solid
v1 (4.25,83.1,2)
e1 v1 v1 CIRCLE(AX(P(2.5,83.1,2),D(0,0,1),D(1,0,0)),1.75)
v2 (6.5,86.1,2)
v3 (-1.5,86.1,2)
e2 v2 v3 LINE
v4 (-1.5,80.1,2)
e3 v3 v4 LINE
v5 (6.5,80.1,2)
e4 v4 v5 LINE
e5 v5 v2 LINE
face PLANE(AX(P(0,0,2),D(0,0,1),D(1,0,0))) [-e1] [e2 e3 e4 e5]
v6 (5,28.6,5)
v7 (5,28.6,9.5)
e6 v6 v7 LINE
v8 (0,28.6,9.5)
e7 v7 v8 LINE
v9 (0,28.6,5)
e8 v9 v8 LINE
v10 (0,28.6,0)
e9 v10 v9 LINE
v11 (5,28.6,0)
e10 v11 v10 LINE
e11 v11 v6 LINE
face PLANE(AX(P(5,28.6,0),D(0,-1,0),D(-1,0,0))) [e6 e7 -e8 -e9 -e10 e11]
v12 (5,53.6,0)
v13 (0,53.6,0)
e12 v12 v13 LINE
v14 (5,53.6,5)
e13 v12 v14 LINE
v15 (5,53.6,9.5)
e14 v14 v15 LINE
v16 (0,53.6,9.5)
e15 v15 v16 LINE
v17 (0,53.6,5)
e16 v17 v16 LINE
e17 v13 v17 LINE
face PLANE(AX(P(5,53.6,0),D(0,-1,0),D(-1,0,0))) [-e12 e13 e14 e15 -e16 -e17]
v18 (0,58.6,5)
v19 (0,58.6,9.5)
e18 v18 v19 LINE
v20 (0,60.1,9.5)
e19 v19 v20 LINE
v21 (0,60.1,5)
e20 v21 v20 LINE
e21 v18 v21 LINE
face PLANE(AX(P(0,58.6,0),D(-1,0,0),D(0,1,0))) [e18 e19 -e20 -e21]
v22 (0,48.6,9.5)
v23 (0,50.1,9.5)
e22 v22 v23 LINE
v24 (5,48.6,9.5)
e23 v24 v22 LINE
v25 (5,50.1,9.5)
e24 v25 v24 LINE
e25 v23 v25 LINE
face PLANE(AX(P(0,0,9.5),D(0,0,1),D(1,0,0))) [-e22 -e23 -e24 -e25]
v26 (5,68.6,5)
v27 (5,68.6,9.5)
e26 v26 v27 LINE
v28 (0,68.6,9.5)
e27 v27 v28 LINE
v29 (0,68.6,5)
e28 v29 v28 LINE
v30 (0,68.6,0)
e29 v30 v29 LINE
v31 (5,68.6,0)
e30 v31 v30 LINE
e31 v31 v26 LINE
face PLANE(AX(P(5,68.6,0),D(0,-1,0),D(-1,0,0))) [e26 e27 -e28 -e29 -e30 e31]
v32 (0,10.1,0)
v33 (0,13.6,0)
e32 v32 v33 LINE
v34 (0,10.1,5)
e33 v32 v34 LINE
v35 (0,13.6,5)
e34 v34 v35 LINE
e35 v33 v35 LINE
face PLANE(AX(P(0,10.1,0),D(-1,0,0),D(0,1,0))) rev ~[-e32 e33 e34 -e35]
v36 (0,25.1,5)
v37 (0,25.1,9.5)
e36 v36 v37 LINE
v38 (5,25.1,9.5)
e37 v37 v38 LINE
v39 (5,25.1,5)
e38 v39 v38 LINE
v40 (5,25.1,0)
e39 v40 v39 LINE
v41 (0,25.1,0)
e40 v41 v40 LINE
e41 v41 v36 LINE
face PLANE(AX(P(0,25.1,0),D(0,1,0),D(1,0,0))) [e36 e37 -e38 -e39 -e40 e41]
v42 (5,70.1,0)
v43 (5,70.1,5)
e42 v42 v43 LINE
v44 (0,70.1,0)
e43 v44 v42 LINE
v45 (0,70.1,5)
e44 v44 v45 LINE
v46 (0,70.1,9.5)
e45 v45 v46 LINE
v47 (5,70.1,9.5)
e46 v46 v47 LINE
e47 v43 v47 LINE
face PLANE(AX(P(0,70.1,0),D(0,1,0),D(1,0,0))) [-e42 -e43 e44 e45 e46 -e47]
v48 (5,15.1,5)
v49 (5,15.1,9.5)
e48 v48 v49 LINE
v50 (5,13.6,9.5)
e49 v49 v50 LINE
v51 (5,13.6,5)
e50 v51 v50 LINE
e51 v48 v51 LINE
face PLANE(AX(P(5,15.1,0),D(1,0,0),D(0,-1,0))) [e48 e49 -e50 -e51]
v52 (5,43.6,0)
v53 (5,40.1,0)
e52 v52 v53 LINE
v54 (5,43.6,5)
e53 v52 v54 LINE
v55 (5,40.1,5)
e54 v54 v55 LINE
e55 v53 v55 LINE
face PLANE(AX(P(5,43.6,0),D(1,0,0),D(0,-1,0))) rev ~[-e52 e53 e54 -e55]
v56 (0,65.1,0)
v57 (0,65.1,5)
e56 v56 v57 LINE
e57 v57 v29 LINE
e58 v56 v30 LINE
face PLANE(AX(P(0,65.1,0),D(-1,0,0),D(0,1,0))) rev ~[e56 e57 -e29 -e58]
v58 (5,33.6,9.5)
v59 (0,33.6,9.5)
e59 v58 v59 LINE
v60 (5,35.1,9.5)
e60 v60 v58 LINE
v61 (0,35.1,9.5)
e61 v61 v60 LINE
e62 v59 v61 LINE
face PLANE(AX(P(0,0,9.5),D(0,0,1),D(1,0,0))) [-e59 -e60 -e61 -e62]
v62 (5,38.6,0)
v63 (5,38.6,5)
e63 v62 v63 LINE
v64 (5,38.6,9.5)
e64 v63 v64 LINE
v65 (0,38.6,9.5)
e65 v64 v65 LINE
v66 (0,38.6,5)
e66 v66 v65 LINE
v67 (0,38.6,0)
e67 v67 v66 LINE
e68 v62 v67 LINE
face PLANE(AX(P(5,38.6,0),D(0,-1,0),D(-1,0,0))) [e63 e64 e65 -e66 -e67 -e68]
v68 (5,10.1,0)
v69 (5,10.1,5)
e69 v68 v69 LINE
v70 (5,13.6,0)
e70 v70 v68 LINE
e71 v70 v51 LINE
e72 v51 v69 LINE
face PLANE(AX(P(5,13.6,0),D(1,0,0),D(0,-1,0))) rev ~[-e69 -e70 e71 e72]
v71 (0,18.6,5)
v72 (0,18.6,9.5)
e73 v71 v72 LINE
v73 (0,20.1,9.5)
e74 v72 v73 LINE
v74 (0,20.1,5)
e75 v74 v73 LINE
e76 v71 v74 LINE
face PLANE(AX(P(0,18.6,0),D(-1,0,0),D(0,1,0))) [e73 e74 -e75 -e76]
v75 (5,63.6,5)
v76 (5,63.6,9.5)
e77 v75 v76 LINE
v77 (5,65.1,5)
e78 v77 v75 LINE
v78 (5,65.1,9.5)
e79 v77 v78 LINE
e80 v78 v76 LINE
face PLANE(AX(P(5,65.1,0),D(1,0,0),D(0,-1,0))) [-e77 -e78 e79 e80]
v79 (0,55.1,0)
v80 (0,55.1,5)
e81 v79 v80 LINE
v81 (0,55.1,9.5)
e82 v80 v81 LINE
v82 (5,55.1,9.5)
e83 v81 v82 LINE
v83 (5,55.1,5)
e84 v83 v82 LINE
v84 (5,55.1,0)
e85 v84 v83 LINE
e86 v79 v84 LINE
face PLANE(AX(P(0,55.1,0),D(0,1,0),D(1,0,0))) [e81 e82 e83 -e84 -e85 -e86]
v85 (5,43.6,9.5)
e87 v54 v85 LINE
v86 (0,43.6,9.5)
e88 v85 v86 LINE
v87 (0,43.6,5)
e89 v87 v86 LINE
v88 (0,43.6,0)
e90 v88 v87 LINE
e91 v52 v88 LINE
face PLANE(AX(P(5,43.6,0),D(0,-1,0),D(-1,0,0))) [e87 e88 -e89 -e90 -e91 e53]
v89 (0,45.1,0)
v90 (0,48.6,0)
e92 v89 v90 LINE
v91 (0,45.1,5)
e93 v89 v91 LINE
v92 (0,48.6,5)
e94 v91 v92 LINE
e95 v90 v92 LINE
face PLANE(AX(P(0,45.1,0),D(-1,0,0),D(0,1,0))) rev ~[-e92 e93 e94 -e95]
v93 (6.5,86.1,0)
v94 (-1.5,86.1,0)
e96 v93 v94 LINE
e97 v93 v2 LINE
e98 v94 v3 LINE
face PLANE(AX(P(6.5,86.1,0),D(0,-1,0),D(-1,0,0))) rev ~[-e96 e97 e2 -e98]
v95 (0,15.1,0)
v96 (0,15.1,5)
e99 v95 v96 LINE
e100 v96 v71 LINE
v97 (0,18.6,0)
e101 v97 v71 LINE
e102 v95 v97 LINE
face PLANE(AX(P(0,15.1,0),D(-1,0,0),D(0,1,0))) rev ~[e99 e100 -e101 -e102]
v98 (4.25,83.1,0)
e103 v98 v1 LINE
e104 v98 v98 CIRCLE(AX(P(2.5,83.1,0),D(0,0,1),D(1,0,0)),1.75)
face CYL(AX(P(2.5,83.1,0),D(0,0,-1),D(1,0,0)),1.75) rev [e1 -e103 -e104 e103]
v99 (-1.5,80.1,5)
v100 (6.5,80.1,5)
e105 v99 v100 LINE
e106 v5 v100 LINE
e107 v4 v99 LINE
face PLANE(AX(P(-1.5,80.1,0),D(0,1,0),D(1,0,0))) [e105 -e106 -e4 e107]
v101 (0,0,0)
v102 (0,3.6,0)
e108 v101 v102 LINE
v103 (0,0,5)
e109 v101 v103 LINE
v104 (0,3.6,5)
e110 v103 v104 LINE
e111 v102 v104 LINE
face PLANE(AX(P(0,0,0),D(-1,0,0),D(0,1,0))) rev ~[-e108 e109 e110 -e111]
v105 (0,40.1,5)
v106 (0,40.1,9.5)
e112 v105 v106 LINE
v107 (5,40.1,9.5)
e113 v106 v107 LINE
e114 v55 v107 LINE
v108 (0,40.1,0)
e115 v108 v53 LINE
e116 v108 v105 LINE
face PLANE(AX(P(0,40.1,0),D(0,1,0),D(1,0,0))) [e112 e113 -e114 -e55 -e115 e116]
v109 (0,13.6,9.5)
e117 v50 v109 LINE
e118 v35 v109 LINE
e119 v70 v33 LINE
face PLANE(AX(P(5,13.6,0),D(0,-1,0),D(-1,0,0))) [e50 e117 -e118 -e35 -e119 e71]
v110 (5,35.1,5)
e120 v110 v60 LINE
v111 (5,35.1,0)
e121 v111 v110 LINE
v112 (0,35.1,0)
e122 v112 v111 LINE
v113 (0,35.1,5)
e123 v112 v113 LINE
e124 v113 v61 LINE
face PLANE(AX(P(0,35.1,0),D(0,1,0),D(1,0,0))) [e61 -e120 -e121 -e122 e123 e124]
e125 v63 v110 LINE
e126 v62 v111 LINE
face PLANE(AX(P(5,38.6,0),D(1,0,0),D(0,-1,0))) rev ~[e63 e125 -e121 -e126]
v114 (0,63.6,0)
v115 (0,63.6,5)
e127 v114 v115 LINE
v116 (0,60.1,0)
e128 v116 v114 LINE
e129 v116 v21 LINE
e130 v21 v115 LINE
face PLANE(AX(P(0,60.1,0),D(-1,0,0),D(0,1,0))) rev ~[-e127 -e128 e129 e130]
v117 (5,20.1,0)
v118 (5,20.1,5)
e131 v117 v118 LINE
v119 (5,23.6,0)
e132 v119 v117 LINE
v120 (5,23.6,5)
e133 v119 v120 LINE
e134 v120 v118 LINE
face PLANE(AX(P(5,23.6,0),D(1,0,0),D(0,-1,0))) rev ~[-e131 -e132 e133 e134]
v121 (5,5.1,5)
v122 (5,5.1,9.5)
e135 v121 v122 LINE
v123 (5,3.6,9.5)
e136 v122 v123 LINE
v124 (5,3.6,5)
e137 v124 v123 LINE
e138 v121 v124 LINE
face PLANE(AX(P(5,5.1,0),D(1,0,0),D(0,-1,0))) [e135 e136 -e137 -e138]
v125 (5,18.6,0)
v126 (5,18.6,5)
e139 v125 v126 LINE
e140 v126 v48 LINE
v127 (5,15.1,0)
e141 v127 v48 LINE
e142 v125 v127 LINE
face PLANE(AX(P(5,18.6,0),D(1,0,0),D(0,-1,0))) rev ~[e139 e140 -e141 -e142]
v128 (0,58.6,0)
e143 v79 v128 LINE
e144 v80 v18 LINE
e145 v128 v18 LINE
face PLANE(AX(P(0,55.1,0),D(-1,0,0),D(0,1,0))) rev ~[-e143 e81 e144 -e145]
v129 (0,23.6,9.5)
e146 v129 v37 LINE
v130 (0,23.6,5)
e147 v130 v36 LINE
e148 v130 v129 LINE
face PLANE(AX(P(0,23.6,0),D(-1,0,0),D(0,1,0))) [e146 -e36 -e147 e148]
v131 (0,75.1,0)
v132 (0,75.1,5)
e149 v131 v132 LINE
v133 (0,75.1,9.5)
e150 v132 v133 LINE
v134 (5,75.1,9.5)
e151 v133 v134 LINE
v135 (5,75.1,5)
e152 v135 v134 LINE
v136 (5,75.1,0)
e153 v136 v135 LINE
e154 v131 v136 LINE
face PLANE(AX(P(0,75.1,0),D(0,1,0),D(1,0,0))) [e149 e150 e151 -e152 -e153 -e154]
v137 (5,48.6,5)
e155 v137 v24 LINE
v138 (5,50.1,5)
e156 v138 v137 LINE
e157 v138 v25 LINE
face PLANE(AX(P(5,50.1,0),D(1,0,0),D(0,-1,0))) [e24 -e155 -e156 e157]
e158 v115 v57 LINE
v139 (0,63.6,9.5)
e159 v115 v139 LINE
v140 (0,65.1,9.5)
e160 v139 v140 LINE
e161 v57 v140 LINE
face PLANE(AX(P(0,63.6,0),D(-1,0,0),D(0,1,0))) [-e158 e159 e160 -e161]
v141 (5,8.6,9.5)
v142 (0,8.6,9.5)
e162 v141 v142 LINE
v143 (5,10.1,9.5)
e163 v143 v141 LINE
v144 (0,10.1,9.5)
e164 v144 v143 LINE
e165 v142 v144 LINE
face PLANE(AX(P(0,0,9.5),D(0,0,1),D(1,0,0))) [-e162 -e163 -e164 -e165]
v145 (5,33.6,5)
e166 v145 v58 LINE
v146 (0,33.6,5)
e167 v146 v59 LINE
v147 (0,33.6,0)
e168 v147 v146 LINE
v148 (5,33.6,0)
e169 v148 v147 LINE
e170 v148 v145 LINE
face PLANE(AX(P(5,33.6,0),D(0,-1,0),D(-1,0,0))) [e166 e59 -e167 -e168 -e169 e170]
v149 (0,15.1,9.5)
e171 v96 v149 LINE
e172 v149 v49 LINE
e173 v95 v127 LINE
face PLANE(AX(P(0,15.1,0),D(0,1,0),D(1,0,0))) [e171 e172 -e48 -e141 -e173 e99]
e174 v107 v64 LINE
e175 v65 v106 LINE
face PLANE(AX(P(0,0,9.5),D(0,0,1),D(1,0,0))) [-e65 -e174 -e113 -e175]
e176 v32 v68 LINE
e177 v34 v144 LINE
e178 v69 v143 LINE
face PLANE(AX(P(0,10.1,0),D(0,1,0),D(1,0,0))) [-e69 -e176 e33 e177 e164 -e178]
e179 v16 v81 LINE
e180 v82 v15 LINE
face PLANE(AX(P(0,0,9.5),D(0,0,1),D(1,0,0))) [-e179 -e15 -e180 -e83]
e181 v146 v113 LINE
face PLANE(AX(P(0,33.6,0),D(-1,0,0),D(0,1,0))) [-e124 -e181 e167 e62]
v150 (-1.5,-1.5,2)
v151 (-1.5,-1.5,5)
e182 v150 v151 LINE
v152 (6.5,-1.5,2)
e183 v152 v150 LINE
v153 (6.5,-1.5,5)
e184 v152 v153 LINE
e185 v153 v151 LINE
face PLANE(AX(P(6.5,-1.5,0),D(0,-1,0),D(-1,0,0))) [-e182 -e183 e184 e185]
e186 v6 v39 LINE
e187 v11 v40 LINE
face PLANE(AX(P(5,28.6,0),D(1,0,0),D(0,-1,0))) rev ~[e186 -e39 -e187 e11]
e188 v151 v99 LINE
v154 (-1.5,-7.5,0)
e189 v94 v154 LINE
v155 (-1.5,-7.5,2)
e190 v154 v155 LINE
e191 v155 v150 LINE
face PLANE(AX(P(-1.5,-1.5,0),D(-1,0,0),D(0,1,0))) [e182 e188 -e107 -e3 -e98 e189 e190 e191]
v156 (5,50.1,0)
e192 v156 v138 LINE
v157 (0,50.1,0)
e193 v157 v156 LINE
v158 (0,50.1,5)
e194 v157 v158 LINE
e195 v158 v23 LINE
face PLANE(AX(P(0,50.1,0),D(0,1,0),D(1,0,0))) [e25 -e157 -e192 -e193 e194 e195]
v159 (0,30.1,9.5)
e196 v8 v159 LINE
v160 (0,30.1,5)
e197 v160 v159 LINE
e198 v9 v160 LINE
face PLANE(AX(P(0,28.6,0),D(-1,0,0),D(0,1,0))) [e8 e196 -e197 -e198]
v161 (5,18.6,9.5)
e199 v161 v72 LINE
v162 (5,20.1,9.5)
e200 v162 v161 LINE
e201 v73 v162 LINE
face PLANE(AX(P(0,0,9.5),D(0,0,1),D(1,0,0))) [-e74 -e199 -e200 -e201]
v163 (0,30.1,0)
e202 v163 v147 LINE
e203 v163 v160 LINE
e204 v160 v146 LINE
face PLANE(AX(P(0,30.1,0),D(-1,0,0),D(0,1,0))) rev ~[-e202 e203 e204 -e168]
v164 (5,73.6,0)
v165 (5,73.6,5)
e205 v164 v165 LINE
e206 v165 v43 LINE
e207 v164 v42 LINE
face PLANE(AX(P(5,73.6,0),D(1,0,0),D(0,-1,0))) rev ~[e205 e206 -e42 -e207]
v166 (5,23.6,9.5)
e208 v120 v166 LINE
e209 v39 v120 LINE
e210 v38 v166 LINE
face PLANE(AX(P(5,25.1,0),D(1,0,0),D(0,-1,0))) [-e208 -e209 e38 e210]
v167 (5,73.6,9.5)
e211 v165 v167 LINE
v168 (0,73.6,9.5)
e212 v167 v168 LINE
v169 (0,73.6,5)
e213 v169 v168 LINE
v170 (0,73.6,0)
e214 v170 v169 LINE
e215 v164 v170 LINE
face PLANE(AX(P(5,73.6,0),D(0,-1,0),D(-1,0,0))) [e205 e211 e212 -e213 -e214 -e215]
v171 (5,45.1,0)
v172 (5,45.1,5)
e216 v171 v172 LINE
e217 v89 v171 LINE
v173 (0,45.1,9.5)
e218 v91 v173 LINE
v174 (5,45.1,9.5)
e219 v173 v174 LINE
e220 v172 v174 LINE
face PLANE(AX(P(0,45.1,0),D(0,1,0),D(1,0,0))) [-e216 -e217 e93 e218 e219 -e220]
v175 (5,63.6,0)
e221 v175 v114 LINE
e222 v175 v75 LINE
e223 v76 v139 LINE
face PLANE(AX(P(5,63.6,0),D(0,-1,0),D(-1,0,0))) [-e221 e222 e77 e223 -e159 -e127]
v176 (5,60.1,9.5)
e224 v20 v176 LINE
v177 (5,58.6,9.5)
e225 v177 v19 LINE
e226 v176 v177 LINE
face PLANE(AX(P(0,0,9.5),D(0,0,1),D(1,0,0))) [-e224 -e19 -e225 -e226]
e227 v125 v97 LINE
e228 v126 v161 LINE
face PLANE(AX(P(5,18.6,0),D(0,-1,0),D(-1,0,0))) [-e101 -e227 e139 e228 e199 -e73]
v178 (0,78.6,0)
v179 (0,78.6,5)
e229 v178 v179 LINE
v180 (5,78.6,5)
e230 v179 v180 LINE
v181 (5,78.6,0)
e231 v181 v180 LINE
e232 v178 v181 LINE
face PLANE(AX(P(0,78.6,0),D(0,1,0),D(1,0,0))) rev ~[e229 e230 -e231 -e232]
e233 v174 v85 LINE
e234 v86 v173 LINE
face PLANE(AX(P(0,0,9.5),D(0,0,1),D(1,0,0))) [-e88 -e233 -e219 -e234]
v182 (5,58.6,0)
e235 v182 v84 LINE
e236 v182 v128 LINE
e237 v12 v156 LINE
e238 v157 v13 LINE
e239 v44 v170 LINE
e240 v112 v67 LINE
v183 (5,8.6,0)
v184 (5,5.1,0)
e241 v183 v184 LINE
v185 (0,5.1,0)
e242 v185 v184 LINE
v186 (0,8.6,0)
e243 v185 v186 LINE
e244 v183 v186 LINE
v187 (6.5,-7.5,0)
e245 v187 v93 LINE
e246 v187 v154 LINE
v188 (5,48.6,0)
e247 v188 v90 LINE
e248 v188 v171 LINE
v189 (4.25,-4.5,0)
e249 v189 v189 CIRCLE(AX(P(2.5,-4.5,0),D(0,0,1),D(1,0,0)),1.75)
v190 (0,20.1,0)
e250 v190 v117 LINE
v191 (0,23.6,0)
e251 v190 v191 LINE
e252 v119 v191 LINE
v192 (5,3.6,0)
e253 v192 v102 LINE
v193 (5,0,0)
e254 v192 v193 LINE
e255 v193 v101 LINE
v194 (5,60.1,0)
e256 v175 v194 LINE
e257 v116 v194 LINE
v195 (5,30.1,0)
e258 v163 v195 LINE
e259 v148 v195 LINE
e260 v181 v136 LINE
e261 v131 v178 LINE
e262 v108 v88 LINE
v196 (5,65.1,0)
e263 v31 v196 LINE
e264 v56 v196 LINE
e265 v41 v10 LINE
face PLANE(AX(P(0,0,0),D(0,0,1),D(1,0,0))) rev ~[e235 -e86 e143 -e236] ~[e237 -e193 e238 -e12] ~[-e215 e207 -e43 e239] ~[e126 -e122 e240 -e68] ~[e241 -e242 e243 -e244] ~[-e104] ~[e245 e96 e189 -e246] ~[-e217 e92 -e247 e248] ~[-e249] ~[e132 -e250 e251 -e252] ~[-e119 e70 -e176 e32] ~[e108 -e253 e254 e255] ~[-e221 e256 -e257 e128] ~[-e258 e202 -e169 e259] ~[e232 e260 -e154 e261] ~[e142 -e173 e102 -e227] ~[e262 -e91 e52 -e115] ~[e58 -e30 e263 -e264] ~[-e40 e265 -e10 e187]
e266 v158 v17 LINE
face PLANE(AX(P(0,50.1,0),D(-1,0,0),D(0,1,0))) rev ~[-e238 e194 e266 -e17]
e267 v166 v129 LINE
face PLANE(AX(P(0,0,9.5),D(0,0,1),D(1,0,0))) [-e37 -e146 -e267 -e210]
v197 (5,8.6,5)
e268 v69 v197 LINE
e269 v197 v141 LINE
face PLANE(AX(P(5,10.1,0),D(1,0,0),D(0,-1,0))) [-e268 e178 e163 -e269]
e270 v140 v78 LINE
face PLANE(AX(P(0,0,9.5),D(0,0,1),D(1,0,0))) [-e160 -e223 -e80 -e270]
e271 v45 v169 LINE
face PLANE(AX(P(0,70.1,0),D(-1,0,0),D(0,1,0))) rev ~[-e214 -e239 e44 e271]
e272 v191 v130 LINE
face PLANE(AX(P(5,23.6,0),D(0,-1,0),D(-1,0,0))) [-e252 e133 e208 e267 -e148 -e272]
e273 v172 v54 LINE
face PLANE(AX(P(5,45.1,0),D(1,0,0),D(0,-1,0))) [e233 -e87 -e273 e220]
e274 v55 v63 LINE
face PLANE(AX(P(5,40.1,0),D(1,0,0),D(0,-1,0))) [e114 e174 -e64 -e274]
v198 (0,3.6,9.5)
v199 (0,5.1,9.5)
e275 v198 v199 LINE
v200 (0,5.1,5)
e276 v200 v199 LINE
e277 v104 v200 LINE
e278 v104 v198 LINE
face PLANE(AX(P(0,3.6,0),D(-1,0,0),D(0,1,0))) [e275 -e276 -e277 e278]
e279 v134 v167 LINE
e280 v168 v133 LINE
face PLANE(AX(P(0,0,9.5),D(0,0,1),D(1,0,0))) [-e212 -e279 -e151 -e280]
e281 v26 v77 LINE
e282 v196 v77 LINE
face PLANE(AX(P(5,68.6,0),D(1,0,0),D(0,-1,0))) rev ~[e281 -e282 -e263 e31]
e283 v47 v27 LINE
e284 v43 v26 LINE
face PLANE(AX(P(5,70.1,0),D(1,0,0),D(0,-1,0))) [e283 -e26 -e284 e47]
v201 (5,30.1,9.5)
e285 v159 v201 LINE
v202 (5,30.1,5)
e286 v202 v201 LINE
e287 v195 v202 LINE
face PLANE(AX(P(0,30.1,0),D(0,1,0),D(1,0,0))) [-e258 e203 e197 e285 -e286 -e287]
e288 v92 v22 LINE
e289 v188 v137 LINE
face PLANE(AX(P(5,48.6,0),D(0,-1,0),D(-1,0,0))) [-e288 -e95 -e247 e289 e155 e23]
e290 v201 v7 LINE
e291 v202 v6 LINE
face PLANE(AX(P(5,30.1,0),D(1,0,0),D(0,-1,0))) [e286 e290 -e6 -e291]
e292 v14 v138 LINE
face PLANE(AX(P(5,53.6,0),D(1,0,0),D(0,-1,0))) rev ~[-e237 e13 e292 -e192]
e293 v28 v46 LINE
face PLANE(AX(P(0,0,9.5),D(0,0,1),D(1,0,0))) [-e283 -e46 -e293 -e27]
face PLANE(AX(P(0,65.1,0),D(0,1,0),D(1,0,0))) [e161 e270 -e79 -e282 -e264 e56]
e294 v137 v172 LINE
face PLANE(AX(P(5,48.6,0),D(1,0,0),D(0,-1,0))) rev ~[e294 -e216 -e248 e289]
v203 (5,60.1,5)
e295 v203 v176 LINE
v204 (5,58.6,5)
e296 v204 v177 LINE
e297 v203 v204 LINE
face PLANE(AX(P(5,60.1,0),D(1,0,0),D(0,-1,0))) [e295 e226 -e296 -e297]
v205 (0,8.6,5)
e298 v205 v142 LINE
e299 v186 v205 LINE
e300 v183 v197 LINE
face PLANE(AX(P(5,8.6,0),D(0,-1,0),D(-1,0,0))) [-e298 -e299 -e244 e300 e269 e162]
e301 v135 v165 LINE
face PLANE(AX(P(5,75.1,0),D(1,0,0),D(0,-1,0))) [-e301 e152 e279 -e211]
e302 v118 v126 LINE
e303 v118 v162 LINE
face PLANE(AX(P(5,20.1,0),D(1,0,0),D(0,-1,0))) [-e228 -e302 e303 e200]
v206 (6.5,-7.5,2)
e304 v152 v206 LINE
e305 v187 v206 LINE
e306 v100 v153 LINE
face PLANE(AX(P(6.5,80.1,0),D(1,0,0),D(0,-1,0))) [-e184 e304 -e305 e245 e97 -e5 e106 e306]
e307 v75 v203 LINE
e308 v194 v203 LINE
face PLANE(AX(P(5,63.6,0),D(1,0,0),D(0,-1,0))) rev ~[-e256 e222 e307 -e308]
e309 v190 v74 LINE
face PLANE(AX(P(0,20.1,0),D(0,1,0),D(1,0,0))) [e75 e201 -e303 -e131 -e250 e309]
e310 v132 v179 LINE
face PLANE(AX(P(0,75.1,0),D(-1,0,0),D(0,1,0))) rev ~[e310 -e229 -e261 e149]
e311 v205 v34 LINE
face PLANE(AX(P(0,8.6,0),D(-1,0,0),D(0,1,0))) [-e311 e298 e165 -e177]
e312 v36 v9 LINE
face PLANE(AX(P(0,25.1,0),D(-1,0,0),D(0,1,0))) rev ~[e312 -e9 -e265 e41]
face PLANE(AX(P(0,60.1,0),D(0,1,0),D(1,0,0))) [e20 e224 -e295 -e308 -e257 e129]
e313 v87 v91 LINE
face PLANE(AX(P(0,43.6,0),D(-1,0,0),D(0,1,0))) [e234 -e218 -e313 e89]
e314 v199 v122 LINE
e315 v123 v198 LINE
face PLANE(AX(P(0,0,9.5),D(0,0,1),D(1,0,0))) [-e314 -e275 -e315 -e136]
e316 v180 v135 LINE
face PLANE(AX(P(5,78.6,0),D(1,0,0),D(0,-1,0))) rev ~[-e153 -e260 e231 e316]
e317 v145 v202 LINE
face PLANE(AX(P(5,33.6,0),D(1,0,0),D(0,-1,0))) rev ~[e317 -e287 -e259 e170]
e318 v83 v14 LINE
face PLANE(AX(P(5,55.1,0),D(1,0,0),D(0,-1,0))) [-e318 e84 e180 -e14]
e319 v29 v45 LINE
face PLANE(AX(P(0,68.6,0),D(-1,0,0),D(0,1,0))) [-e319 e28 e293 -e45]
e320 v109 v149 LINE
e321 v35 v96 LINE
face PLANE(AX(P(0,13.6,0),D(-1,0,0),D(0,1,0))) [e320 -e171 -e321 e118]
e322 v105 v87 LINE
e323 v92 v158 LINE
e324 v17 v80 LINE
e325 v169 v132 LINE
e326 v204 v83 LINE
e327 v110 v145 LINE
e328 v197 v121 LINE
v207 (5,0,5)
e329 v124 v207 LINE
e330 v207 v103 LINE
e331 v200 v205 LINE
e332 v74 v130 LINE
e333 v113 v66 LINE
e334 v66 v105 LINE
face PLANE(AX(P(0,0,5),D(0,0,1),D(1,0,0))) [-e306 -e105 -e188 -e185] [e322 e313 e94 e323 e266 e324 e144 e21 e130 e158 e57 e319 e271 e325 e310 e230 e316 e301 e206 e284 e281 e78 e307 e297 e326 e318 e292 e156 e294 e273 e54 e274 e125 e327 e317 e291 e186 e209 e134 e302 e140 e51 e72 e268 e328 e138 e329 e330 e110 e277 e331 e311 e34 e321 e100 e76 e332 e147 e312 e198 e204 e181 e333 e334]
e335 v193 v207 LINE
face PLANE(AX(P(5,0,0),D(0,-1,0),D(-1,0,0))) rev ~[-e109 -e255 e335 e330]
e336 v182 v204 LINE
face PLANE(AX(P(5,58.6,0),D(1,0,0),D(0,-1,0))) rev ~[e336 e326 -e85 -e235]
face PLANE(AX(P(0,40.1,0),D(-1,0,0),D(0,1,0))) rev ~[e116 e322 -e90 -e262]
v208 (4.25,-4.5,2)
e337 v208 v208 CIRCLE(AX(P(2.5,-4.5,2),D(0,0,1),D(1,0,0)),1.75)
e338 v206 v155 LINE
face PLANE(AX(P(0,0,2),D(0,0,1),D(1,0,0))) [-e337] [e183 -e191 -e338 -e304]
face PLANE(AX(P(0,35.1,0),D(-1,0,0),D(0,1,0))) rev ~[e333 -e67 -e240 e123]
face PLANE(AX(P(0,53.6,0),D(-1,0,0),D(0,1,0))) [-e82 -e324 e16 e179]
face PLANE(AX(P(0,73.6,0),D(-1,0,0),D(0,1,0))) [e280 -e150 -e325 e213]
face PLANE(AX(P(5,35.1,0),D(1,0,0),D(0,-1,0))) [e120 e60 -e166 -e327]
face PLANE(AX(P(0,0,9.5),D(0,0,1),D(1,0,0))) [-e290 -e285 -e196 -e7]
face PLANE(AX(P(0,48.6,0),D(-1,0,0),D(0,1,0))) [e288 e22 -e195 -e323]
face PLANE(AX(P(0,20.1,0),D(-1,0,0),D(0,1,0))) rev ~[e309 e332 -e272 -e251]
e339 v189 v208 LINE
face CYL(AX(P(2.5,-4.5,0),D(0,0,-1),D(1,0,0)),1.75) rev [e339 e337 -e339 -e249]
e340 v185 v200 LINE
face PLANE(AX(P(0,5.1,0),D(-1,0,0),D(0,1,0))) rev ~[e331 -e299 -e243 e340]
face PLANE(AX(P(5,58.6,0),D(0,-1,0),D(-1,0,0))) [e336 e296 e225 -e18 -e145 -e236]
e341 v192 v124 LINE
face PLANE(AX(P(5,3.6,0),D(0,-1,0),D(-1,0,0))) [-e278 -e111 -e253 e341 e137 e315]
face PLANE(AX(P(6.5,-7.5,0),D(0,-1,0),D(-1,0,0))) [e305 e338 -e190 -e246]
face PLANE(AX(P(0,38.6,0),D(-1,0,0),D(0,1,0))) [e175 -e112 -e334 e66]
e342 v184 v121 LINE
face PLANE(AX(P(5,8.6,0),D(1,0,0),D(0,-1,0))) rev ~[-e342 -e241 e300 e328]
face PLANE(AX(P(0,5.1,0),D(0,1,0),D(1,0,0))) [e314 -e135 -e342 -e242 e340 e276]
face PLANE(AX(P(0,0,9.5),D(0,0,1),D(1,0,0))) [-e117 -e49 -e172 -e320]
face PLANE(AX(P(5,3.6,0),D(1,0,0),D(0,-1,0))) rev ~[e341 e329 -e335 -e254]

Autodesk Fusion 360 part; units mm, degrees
sketch "スケッチ1" plane through (0, 0, 0) normal (0, 0, 1) x (1, 0, 0)
  line L0 (1.5, 1.2) -> (3.5, 1.2)
  line L1 (3.5, 1.2) -> (3.5, 2.4)
  line L2 (3.5, 2.4) -> (1.5, 2.4)
  line L3 (1.5, 2.4) -> (1.5, 1.2)
  line L4 (1.5, 6.2) -> (3.5, 6.2)
  line L5 (3.5, 7.4) -> (1.5, 7.4)
  line L6 (3.5, 6.2) -> (3.5, 7.4)
  line L7 (1.5, 7.4) -> (1.5, 6.2)
  line L8 (1.5, 11.2) -> (3.5, 11.2)
  line L9 (3.5, 12.4) -> (1.5, 12.4)
  line L10 (3.5, 11.2) -> (3.5, 12.4)
  line L11 (1.5, 12.4) -> (1.5, 11.2)
  line L12 (1.5, 16.2) -> (3.5, 16.2)
  line L13 (3.5, 17.4) -> (1.5, 17.4)
  line L14 (3.5, 16.2) -> (3.5, 17.4)
  line L15 (1.5, 17.4) -> (1.5, 16.2)
  line L16 (1.5, 21.2) -> (3.5, 21.2)
  line L17 (3.5, 22.4) -> (1.5, 22.4)
  line L18 (3.5, 21.2) -> (3.5, 22.4)
  line L19 (1.5, 22.4) -> (1.5, 21.2)
  line L20 (1.5, 26.2) -> (3.5, 26.2)
  line L21 (3.5, 27.4) -> (1.5, 27.4)
  line L22 (3.5, 26.2) -> (3.5, 27.4)
  line L23 (1.5, 27.4) -> (1.5, 26.2)
  line L24 (1.5, 31.2) -> (3.5, 31.2)
  line L25 (3.5, 32.4) -> (1.5, 32.4)
  line L26 (3.5, 31.2) -> (3.5, 32.4)
  line L27 (1.5, 32.4) -> (1.5, 31.2)
  line L28 (1.5, 36.2) -> (3.5, 36.2)
  line L29 (3.5, 37.4) -> (1.5, 37.4)
  line L30 (3.5, 36.2) -> (3.5, 37.4)
  line L31 (1.5, 37.4) -> (1.5, 36.2)
  line L32 (1.5, 41.2) -> (3.5, 41.2)
  line L33 (3.5, 42.4) -> (1.5, 42.4)
  line L34 (3.5, 41.2) -> (3.5, 42.4)
  line L35 (1.5, 42.4) -> (1.5, 41.2)
  line L36 (1.5, 46.2) -> (3.5, 46.2)
  line L37 (3.5, 47.4) -> (1.5, 47.4)
  line L38 (3.5, 46.2) -> (3.5, 47.4)
  line L39 (1.5, 47.4) -> (1.5, 46.2)
  line L40 (1.5, 51.2) -> (3.5, 51.2)
  line L41 (3.5, 52.4) -> (1.5, 52.4)
  line L42 (3.5, 51.2) -> (3.5, 52.4)
  line L43 (1.5, 52.4) -> (1.5, 51.2)
  line L44 (1.5, 56.2) -> (3.5, 56.2)
  line L45 (3.5, 57.4) -> (1.5, 57.4)
  line L46 (3.5, 56.2) -> (3.5, 57.4)
  line L47 (1.5, 57.4) -> (1.5, 56.2)
  line L48 (1.5, 61.2) -> (3.5, 61.2)
  line L49 (3.5, 62.4) -> (1.5, 62.4)
  line L50 (3.5, 61.2) -> (3.5, 62.4)
  line L51 (1.5, 62.4) -> (1.5, 61.2)
  line L52 (1.5, 66.2) -> (3.5, 66.2)
  line L53 (3.5, 67.4) -> (1.5, 67.4)
  line L54 (3.5, 66.2) -> (3.5, 67.4)
  line L55 (1.5, 67.4) -> (1.5, 66.2)
  line L56 (1.5, 71.2) -> (3.5, 71.2)
  line L57 (3.5, 72.4) -> (1.5, 72.4)
  line L58 (3.5, 71.2) -> (3.5, 72.4)
  line L59 (1.5, 72.4) -> (1.5, 71.2)
  line L60 (1.5, 76.2) -> (3.5, 76.2)
  line L61 (3.5, 77.4) -> (1.5, 77.4)
  line L62 (3.5, 76.2) -> (3.5, 77.4)
  line L63 (1.5, 77.4) -> (1.5, 76.2)
  line L64 (0, 78.6) -> (5, 78.6)
  line L65 (5, 78.6) -> (5, 0)
  line L66 (5, 0) -> (0, 0)
  line L67 (0, 0) -> (0, 78.6)
  line L68 (6.5, -1.5) -> (-1.5, -1.5)
  line L69 (-1.5, -1.5) -> (-1.5, 80.1)
  line L70 (-1.5, 80.1) -> (6.5, 80.1)
  line L71 (6.5, 80.1) -> (6.5, -1.5)
  line L72 (0, 5.1) -> (5, 5.1)
  line L73 (5, 5.1) -> (5, 3.6)
  line L74 (5, 3.6) -> (0, 3.6)
  line L75 (0, 3.6) -> (0, 5.1)
  line L76 (5, 8.6) -> (0, 8.6)
  line L77 (0, 10.1) -> (5, 10.1)
  line L78 (5, 13.6) -> (0, 13.6)
  line L79 (0, 15.1) -> (5, 15.1)
  line L80 (5, 18.6) -> (0, 18.6)
  line L81 (0, 20.1) -> (5, 20.1)
  line L82 (5, 23.6) -> (0, 23.6)
  line L83 (0, 25.1) -> (5, 25.1)
  line L84 (5, 28.6) -> (0, 28.6)
  line L85 (0, 30.1) -> (5, 30.1)
  line L86 (5, 33.6) -> (0, 33.6)
  line L87 (0, 35.1) -> (5, 35.1)
  line L88 (5, 38.6) -> (0, 38.6)
  line L89 (0, 40.1) -> (5, 40.1)
  line L90 (5, 43.6) -> (0, 43.6)
  line L91 (0, 45.1) -> (5, 45.1)
  line L92 (5, 48.6) -> (0, 48.6)
  line L93 (0, 50.1) -> (5, 50.1)
  line L94 (5, 53.6) -> (0, 53.6)
  line L95 (0, 55.1) -> (5, 55.1)
  line L96 (5, 58.6) -> (0, 58.6)
  line L97 (0, 60.1) -> (5, 60.1)
  line L98 (5, 63.6) -> (0, 63.6)
  line L99 (0, 65.1) -> (5, 65.1)
  line L100 (5, 68.6) -> (0, 68.6)
  line L101 (0, 70.1) -> (5, 70.1)
  line L102 (5, 73.6) -> (0, 73.6)
  line L103 (0, 75.1) -> (5, 75.1)
  line L104 (-1.5, 80.1) -> (6.5, 80.1)
  line L105 (6.5, 80.1) -> (6.5, 86.1)
  line L106 (6.5, 86.1) -> (-1.5, 86.1)
  line L107 (-1.5, 86.1) -> (-1.5, 80.1)
  circle A0 centre (2.5, 83.1) radius 1.75
  line L108 (-1.5, -1.5) -> (6.5, -1.5)
  line L109 (6.5, -1.5) -> (6.5, -7.5)
  line L110 (6.5, -7.5) -> (-1.5, -7.5)
  line L111 (-1.5, -7.5) -> (-1.5, -1.5)
  circle A1 centre (2.5, -4.5) radius 1.75
  dimension "d1" = 2
  dimension "d2" = 1.2
  dimension "d5" = 0
  dimension "d6" = 75
  dimension "d7" = 78.6
  dimension "d8" = 1.2
  dimension "d9" = 5
  dimension "d10" = 1.5
  dimension "d11" = -1.5
  dimension "d12" = 1.5
  dimension "d15" = 0
  dimension "d16" = 70
  dimension "d17" = 1.2
  dimension "d18" = 8
  dimension "d19" = 6
  dimension "d20" = 3.5
  dimension "d21" = 4
  dimension "d22" = 3
  dimension "d23" = 8
  dimension "d24" = 6
  dimension "d25" = 3.5
  dimension "d26" = 4
  dimension "d27" = 3
extrude "押し出し1" add sketch "スケッチ1" along normal blind 5 contours L68 L69 L70 L71 L104 L108
extrude "押し出し2" add sketch "スケッチ1" along normal blind 9.5 contours L65 L67 L102 L103 | L65 L67 L100 L101 | L65 L67 L98 L99 | L65 L67 L96 L97 | L65 L67 L94 L95 | L65 L67 L92 L93 | L65 L67 L90 L91 | L65 L67 L88 L89 | L65 L67 L86 L87 | L65 L67 L84 L85 | L65 L67 L82 L83 | L65 L67 L80 L81 | L65 L67 L78 L79 | L65 L67 L76 L77 | L65 L67 L72 L73 L74 L75
extrude "押し出し3" add sketch "スケッチ1" along normal blind 2 contours L68 L108 L109 L110 L111 | L70 L104 L105 L106 L107
equation "d7 = 80 mm - 1.4 mm"
